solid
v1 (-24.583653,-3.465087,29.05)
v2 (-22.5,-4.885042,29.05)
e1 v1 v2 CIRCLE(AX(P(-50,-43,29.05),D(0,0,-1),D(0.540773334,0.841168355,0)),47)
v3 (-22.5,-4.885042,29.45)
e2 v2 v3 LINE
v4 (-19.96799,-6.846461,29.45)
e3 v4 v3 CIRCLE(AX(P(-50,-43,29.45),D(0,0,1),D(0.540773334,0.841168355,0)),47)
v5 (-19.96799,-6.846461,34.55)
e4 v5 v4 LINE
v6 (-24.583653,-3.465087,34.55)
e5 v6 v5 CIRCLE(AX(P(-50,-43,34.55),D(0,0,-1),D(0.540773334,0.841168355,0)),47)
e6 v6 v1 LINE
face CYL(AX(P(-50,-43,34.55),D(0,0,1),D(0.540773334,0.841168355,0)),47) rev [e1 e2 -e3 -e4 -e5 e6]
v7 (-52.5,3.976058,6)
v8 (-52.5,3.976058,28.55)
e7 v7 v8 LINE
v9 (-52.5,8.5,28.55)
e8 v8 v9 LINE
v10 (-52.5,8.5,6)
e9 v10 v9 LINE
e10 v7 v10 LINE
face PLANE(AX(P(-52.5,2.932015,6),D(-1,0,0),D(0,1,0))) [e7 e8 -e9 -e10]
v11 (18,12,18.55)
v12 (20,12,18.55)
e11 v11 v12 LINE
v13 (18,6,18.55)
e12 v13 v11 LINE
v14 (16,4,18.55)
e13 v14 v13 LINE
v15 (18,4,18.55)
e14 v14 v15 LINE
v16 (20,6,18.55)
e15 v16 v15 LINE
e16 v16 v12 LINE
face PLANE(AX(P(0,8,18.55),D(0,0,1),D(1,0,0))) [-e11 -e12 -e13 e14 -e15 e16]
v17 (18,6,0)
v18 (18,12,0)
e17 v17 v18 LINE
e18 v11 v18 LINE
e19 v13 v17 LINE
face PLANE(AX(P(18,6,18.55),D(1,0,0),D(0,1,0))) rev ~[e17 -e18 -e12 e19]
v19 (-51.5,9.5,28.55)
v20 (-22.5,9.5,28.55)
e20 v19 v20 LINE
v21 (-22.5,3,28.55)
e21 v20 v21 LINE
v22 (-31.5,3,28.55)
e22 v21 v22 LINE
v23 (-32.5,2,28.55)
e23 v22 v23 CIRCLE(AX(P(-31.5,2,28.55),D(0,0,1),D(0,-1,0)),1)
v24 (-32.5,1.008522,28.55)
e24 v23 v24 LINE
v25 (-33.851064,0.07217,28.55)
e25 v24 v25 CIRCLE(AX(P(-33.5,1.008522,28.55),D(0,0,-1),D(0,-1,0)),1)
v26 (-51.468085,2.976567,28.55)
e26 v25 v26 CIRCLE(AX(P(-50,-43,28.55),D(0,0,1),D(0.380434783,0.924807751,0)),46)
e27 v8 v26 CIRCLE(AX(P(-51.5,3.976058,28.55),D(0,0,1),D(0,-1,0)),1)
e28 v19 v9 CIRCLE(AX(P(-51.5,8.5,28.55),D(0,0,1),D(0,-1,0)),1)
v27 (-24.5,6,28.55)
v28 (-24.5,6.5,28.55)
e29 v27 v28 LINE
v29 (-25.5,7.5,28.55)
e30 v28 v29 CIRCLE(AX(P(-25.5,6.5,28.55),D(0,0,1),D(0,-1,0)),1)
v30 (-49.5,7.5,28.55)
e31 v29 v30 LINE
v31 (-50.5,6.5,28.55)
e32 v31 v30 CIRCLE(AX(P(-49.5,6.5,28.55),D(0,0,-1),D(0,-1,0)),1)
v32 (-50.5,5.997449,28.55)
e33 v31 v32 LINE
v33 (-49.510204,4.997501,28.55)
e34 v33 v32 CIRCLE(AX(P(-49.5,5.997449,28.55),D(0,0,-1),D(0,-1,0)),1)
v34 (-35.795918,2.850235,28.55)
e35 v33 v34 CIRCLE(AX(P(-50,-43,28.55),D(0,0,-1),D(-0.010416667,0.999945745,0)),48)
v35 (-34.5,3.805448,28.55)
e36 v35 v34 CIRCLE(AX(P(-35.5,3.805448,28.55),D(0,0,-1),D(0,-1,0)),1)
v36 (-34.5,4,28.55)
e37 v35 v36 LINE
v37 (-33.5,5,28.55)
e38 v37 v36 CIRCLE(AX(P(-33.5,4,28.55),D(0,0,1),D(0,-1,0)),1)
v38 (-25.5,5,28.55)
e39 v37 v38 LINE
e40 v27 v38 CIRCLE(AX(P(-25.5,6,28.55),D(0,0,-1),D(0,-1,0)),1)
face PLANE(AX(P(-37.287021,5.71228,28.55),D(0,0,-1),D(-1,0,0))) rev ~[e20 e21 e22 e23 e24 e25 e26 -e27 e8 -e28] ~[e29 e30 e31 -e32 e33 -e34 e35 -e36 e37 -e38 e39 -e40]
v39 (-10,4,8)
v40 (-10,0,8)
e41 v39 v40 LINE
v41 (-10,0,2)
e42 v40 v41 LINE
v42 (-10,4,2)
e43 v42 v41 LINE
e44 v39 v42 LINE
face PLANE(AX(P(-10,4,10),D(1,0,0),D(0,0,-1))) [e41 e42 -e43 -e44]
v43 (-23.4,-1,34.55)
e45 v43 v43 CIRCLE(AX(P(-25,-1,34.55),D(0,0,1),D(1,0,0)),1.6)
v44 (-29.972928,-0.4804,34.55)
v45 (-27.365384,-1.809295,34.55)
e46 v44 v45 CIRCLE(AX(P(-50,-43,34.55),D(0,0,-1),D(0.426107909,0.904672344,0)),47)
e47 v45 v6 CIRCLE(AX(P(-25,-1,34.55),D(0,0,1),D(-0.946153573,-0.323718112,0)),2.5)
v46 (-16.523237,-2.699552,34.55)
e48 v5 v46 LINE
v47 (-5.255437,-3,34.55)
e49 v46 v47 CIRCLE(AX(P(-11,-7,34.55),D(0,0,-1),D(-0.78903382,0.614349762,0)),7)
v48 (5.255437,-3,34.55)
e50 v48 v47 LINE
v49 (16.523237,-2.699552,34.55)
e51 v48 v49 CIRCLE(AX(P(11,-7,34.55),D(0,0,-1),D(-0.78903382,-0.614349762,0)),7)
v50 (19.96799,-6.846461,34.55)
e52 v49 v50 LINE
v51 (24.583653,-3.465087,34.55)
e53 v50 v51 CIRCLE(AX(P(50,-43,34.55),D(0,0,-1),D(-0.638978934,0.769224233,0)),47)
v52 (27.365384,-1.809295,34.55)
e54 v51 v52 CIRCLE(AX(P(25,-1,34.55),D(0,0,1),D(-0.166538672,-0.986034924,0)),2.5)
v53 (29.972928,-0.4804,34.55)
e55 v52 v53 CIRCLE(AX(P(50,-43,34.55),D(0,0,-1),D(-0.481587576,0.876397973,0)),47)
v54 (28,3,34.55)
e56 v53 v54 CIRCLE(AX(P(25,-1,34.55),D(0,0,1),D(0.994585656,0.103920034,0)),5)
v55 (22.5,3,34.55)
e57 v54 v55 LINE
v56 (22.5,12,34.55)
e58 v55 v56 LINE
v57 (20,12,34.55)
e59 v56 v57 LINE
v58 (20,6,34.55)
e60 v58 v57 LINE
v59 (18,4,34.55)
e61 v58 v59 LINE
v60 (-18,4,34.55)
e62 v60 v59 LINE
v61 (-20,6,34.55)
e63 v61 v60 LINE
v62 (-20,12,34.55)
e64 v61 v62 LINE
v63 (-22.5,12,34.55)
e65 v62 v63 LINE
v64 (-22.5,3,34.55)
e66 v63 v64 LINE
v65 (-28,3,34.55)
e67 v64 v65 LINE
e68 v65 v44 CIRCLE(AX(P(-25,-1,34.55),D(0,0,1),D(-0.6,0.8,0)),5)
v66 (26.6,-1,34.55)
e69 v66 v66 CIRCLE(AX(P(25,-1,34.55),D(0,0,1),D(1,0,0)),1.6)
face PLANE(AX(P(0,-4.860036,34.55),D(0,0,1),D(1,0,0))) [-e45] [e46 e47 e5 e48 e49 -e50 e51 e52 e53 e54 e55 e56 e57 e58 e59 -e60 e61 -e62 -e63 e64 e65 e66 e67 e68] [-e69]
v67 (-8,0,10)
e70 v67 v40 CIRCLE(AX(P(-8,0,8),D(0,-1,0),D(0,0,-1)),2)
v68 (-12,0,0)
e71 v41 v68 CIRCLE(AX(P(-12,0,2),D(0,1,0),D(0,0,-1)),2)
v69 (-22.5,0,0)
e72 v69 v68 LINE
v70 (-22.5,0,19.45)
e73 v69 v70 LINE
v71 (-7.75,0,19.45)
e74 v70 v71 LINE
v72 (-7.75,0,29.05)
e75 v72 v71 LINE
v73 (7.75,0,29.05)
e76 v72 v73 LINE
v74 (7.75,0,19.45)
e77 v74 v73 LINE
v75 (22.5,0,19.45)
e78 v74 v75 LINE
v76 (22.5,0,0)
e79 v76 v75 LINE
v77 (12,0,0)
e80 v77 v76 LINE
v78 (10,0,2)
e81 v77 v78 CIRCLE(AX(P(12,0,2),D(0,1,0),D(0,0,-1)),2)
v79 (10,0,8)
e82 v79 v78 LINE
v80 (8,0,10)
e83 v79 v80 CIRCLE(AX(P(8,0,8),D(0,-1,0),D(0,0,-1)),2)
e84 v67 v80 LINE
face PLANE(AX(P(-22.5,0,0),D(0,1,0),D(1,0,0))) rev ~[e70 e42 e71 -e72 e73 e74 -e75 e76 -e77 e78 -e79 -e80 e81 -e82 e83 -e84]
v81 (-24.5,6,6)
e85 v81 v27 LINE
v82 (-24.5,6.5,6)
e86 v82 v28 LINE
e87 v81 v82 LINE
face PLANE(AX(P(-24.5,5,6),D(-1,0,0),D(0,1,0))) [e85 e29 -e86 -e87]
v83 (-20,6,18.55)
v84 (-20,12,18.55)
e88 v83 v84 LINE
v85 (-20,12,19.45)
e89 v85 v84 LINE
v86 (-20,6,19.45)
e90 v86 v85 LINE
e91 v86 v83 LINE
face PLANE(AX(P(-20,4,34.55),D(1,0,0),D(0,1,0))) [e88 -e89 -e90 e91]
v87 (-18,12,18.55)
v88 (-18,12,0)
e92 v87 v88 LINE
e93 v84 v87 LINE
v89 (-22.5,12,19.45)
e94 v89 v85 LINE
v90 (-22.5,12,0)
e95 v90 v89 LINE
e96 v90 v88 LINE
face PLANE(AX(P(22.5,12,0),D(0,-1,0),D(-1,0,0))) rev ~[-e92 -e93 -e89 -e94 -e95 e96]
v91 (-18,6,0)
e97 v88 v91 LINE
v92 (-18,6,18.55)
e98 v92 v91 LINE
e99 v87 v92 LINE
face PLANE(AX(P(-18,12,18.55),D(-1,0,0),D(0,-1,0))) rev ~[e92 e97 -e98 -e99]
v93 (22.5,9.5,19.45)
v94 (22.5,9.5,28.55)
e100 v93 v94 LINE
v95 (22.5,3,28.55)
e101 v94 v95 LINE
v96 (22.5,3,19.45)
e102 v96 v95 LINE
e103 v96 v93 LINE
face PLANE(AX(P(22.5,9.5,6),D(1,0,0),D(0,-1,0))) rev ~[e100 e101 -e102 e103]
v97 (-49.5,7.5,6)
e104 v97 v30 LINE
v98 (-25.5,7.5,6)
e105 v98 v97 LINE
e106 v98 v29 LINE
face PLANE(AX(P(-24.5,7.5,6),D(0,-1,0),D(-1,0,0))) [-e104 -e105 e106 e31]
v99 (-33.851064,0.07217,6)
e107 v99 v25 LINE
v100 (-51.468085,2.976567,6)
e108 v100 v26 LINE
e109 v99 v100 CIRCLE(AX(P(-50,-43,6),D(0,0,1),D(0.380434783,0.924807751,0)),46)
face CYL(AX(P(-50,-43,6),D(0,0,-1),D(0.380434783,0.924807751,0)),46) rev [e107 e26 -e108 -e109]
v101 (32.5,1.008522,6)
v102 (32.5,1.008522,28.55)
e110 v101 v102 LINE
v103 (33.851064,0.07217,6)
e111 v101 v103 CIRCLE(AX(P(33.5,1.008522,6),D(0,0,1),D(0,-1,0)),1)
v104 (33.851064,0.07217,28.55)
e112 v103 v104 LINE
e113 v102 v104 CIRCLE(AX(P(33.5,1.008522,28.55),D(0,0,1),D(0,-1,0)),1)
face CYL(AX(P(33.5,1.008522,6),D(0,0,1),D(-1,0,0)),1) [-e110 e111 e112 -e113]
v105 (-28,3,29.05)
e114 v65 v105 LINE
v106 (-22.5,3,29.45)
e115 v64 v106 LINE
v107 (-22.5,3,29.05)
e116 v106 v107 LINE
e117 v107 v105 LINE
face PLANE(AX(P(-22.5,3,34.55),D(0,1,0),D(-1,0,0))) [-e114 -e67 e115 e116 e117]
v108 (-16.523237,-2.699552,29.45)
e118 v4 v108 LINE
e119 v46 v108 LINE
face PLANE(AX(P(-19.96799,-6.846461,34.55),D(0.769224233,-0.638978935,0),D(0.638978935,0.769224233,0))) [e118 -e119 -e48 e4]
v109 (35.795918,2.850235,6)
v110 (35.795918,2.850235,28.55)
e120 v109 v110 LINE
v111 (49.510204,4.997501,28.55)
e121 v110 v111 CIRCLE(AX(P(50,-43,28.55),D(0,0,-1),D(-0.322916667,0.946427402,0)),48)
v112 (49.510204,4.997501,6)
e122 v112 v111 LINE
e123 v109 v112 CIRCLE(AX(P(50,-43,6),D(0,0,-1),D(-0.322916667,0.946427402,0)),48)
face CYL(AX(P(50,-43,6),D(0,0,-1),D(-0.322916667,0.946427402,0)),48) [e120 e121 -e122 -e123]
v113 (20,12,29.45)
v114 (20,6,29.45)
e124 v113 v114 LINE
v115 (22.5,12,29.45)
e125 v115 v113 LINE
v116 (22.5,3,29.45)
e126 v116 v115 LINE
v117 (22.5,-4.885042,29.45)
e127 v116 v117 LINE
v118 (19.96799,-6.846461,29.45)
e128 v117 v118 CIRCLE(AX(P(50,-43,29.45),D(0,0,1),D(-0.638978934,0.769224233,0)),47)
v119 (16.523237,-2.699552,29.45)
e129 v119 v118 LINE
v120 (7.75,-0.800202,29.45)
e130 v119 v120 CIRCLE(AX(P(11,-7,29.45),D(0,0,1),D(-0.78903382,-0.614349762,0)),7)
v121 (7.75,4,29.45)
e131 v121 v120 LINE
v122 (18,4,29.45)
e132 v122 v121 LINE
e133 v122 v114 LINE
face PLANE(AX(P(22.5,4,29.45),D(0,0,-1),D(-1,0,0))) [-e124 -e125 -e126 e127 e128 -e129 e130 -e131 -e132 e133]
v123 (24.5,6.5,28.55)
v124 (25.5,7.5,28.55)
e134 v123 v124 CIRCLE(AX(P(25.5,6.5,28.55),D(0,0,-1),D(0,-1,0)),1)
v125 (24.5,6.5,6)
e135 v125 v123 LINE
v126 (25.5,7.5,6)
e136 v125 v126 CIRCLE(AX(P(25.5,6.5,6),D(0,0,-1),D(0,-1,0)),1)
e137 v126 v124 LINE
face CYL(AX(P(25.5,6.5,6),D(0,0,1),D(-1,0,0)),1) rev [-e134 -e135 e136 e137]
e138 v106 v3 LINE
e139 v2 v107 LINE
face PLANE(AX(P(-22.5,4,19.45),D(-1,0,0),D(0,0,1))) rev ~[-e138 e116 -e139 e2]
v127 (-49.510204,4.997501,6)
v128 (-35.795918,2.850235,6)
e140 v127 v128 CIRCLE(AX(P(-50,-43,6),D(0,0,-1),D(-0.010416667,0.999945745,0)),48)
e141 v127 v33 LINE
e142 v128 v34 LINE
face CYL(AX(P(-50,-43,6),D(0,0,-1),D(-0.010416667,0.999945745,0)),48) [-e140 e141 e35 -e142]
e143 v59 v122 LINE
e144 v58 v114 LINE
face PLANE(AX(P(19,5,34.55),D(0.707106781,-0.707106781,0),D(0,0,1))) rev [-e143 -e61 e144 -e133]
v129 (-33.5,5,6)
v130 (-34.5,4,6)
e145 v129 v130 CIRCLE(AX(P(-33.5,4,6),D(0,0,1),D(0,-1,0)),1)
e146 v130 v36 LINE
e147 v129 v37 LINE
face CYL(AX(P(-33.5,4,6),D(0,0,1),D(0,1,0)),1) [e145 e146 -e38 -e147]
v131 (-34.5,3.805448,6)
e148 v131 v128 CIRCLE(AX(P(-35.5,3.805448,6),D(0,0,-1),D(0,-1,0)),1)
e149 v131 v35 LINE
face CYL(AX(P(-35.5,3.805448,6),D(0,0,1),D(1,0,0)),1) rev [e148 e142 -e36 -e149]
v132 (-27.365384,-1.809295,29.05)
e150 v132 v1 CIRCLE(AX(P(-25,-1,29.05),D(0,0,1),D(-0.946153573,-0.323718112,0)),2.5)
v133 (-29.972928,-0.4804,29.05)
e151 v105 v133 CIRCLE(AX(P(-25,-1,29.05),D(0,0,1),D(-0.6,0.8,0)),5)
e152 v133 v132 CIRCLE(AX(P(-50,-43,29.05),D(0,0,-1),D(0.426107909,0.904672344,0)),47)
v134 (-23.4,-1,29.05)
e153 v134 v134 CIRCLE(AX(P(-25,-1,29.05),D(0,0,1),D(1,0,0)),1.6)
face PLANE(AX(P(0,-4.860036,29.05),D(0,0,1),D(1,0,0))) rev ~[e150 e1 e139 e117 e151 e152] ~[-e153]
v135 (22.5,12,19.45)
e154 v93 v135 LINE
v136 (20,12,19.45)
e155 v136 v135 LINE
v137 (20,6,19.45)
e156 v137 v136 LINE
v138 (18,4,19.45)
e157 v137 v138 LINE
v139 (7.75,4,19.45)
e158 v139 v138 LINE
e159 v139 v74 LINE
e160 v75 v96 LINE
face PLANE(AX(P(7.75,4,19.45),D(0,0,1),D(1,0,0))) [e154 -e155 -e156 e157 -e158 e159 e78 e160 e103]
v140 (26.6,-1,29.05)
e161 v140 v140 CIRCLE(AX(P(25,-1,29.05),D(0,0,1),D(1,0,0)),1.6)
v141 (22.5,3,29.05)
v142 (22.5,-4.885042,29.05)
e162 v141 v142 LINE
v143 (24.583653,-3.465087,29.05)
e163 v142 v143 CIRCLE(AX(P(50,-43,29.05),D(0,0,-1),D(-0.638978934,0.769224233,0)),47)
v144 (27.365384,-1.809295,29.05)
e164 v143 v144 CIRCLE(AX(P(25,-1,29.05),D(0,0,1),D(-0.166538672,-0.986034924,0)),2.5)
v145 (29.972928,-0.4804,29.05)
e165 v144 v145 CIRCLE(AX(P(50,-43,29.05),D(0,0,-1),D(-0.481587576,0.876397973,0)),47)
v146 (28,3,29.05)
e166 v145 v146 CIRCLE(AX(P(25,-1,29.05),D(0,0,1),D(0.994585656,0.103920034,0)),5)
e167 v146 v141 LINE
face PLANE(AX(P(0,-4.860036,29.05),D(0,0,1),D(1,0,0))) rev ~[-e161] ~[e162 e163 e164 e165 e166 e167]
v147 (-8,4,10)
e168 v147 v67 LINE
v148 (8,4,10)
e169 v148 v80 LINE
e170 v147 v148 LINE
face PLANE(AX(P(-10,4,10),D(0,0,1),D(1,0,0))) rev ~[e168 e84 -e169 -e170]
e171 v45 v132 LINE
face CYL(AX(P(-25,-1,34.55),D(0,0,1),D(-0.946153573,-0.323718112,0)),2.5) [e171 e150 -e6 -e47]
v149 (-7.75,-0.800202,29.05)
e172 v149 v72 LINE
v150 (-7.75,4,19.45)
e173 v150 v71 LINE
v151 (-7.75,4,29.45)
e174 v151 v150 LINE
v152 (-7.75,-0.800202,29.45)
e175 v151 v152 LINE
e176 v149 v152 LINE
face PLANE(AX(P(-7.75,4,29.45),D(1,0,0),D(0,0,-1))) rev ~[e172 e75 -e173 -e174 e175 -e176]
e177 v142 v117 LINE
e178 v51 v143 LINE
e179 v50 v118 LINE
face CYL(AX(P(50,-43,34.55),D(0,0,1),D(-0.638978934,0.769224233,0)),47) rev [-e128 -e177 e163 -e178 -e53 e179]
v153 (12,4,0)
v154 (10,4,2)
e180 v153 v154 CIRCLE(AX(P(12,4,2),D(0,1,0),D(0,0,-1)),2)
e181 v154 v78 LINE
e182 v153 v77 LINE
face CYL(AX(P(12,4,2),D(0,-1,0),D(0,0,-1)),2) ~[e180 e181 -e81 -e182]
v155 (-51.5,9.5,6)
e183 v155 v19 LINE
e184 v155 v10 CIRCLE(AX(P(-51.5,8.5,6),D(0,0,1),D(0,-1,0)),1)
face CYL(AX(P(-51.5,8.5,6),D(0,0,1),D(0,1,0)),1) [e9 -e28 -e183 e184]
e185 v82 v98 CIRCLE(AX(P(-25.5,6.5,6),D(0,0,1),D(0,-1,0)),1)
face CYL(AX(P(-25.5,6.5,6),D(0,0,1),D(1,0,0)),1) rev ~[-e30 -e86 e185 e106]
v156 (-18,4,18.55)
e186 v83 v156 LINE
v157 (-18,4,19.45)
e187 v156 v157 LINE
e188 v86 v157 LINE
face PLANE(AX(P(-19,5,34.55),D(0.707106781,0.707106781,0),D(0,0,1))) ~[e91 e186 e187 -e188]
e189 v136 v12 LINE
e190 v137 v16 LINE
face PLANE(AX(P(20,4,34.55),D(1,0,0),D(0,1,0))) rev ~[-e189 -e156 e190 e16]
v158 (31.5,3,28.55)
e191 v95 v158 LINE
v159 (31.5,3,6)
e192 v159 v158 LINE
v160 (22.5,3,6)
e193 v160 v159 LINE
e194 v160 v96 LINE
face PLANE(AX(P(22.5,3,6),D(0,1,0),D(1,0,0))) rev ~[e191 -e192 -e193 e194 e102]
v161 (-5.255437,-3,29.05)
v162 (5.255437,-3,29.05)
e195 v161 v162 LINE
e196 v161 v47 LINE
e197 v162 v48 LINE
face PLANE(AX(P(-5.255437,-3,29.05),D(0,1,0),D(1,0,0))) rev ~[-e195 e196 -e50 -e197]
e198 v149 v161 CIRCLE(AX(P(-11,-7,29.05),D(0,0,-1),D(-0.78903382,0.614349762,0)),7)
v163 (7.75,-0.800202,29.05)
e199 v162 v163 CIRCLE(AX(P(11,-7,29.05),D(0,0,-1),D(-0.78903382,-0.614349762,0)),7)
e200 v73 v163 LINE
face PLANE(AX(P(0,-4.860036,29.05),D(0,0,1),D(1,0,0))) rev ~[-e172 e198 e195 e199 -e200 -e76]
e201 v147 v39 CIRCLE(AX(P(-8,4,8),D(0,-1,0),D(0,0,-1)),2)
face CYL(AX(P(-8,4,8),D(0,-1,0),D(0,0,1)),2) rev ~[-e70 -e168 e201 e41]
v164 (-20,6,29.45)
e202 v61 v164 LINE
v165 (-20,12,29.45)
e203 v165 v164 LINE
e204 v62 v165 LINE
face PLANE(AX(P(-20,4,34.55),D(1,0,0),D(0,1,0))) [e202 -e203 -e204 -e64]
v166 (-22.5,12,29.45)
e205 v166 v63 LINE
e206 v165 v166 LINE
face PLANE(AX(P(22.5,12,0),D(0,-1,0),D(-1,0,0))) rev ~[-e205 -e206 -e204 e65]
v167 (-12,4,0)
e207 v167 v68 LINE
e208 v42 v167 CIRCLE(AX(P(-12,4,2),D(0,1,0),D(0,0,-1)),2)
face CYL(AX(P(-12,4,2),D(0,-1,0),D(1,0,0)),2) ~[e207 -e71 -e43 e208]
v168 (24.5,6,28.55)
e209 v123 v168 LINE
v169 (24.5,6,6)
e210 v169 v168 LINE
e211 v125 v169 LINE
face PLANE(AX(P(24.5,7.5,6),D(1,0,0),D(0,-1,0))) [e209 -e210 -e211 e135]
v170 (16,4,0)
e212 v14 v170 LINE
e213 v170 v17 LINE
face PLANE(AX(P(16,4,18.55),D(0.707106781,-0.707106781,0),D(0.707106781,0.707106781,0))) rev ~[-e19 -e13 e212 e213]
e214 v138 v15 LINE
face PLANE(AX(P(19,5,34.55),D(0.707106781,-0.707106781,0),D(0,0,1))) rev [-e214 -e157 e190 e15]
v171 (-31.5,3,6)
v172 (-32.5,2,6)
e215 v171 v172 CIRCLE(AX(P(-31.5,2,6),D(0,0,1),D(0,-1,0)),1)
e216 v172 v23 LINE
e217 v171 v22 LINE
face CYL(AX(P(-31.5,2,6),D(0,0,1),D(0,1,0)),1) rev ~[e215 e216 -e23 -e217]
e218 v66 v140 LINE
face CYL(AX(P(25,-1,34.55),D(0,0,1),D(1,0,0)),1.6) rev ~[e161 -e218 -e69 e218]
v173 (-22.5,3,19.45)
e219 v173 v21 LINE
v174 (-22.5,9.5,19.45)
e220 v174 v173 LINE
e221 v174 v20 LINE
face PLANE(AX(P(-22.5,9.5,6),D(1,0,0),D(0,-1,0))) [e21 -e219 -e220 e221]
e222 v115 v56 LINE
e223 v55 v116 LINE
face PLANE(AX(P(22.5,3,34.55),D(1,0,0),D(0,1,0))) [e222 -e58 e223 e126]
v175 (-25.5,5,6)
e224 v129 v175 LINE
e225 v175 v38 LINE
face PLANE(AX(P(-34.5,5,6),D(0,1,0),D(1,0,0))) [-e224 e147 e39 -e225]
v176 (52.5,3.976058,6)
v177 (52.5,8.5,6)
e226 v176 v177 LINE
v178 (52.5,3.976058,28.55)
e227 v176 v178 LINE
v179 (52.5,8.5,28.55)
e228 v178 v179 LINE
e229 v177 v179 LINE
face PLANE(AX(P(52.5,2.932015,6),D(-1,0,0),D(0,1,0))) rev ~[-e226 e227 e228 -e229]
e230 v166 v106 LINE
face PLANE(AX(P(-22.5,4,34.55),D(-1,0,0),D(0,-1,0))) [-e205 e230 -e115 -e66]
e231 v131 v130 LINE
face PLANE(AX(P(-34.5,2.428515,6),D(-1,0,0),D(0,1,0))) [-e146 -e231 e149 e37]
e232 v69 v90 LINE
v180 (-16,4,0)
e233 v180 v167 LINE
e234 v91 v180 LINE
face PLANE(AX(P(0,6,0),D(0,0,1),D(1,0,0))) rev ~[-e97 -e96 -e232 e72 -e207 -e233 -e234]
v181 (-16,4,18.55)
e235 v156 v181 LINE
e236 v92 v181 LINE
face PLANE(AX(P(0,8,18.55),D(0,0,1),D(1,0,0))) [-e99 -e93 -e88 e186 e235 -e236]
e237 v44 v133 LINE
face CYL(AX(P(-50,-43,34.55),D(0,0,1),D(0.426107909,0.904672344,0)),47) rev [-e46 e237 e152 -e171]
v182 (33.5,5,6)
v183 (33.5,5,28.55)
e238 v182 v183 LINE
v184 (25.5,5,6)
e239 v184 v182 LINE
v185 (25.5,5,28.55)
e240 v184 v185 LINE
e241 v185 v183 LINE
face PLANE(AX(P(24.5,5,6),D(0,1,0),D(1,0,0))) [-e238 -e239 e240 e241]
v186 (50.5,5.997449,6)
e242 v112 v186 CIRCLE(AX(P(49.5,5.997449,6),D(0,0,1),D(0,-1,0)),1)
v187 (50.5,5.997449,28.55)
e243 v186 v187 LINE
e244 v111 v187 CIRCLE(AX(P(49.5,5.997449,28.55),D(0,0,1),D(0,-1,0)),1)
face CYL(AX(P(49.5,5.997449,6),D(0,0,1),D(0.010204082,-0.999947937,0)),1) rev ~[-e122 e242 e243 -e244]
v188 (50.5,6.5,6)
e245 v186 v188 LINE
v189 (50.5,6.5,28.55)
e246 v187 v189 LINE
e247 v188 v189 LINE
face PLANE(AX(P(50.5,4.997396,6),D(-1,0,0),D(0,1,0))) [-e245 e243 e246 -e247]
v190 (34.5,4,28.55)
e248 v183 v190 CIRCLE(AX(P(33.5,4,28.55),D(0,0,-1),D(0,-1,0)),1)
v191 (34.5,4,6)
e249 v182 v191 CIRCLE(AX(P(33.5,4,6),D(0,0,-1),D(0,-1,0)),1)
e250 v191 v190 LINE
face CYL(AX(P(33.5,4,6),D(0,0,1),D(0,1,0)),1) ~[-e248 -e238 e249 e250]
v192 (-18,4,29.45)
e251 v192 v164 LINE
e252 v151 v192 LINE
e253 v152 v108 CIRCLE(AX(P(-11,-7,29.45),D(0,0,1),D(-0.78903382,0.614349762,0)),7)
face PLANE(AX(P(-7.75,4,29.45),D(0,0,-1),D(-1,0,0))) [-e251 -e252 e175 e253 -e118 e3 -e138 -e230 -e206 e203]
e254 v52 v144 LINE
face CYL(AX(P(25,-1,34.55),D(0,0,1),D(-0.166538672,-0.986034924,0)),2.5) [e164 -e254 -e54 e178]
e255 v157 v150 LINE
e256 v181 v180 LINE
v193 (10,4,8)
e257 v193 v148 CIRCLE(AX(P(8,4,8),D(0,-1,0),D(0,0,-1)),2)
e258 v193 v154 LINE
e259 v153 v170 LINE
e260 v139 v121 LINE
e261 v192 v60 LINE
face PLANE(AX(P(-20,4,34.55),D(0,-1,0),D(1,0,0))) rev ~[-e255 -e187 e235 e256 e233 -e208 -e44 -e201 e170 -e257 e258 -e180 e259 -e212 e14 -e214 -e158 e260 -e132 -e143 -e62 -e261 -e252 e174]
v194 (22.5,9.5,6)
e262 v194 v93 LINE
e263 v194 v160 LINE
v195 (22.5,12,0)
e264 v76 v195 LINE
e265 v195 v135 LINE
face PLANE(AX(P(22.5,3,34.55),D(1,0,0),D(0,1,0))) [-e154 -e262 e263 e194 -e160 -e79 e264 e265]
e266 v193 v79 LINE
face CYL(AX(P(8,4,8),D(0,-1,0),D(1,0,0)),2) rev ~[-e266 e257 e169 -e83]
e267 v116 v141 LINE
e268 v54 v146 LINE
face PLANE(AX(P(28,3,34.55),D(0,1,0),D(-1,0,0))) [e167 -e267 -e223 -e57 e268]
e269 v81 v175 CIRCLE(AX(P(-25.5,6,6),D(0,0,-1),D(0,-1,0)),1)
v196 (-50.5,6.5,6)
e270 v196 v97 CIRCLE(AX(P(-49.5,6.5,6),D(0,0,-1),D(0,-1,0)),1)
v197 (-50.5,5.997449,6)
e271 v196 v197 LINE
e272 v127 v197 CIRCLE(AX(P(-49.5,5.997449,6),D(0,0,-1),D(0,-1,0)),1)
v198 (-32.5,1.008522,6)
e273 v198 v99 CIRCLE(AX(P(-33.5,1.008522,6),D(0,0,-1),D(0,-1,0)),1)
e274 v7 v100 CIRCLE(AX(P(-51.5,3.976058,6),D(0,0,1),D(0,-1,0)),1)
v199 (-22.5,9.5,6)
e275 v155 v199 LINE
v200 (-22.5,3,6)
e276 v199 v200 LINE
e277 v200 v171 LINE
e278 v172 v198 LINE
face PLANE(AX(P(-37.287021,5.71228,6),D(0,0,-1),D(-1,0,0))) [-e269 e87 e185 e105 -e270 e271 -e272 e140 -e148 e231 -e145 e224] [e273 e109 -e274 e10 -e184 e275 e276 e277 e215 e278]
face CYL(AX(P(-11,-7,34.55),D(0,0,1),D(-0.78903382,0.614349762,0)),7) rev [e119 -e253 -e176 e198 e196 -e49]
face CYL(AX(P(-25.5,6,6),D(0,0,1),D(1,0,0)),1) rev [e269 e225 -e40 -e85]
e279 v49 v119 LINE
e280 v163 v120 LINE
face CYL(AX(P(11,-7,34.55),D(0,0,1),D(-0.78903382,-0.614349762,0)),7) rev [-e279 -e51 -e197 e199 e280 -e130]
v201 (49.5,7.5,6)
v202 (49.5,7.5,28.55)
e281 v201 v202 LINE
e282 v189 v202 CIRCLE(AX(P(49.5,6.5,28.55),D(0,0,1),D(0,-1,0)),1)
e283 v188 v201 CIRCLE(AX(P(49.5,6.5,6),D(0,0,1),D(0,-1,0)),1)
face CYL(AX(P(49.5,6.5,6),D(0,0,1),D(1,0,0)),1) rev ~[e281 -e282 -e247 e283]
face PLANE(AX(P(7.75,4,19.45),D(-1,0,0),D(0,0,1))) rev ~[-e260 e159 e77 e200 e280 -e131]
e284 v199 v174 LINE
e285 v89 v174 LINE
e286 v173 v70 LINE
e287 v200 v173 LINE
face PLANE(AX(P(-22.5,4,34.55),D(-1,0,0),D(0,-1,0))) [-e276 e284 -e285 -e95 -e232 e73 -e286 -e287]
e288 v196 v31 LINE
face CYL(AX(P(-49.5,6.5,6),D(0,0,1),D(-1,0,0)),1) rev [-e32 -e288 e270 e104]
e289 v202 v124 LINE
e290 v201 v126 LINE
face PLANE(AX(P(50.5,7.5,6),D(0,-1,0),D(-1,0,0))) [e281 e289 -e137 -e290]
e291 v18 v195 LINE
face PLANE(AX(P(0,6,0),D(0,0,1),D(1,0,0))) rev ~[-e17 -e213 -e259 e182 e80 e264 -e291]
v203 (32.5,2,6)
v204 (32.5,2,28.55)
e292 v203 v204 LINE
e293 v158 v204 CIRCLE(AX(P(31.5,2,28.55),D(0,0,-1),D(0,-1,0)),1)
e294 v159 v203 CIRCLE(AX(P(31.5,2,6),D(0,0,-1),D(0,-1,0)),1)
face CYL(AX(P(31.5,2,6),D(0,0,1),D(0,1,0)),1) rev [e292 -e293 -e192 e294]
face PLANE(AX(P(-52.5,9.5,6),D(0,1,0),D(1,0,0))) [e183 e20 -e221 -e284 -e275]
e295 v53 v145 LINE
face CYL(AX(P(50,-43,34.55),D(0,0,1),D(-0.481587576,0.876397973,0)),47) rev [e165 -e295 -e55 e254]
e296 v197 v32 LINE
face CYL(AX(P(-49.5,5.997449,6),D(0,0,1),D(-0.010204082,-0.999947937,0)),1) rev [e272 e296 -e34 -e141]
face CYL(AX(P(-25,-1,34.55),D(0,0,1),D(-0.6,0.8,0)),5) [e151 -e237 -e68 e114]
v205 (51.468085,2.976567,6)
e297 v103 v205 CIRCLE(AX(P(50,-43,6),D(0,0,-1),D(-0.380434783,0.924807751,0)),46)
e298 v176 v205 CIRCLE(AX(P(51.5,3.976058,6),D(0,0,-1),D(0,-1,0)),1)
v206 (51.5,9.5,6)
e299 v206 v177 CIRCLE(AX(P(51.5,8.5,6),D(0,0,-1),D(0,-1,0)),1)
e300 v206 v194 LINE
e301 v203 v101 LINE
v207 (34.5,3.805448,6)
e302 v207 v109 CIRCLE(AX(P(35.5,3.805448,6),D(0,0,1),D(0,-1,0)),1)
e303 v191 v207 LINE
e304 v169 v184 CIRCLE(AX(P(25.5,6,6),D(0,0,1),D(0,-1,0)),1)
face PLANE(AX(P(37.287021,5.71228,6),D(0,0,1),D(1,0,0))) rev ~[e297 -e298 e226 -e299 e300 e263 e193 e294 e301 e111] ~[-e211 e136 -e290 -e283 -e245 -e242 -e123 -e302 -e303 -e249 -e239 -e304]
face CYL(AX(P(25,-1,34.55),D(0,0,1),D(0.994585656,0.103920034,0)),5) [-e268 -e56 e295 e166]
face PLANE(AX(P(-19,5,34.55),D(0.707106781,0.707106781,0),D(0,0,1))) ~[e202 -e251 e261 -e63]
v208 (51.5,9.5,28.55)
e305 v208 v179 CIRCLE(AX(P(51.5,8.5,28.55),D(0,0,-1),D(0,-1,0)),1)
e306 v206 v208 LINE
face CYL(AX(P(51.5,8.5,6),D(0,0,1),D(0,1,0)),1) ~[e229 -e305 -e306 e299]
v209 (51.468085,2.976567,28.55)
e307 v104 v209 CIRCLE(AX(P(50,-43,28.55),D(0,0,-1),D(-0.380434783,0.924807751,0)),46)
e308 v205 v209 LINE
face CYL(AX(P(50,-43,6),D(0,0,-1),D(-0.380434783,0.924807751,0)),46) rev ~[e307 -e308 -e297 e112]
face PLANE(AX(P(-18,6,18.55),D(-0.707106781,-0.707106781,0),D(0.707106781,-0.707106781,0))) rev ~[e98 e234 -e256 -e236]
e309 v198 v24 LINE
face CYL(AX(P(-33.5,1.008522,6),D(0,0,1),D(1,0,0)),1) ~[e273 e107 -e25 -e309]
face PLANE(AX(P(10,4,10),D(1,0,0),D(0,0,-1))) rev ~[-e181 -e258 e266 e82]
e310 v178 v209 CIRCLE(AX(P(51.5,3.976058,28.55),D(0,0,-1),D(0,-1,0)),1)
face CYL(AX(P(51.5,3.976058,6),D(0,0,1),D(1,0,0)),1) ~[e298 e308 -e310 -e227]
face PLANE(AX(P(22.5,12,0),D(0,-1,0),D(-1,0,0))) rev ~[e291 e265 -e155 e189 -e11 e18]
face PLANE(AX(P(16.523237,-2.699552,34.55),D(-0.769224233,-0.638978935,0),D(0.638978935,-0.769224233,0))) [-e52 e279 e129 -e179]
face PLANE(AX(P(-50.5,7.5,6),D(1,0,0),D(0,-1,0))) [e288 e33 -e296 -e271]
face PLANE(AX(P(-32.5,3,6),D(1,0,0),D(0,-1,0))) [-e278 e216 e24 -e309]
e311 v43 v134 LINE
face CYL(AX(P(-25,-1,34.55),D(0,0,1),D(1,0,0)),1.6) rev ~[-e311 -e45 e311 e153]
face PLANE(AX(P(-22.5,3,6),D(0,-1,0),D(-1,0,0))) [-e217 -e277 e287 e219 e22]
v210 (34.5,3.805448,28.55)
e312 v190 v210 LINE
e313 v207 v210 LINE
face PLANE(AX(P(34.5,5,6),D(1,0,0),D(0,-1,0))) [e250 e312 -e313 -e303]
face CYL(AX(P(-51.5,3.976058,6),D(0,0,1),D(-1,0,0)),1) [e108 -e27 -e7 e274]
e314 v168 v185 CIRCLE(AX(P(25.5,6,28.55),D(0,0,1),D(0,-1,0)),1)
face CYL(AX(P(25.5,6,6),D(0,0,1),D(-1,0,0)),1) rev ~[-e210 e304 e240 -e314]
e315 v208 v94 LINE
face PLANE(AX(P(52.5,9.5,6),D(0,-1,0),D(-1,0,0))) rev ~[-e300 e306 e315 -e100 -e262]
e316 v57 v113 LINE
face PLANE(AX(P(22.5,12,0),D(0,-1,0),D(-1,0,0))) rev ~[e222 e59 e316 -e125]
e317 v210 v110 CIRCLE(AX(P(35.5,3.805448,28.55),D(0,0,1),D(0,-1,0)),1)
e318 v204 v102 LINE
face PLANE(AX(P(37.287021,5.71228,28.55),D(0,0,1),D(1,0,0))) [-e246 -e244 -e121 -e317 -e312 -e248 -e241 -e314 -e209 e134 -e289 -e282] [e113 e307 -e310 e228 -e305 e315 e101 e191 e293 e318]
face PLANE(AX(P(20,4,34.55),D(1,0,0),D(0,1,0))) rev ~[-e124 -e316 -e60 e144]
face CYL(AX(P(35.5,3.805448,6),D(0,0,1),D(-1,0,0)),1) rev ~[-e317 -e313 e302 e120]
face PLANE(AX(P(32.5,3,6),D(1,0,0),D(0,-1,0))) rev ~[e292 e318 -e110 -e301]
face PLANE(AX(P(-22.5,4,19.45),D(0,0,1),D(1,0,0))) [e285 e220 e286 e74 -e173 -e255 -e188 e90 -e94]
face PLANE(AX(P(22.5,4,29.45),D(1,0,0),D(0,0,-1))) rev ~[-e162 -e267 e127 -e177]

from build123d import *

# Parameters (mm, degrees)
EXTRUDE_1_DEPTH          = 34.55
SKETCH_2_W               = 40
SKETCH_2_H               = 8
CUT_EXTRUDE_1_DEPTH      = 16
CHAMFER_1_SIZE           = 2
SKETCH_6_R               = 1.6
EXTRUDE_2_DEPTH          = 6.9
SKETCH_8_R               = 1.6
EXTRUDE_3_DEPTH          = 5.5
CUT_EXTRUDE_6_DEPTH      = 10
CUT_EXTRUDE_7_DEPTH      = 25
CUT_EXTRUDE_8_DEPTH      = 25
CUT_EXTRUDE_8_DEPTH_BACK = 25
SKETCH_14_W              = 20
SKETCH_14_H              = 10
CUT_EXTRUDE_9_DEPTH      = 25
FILLET_1_R               = 2
EXTRUDE_START            = -6
EXTRUDE_4_DEPTH          = 22.55
FILLET_2_R               = 1


with BuildPart() as part:
    # 草图1 → 凸台-拉伸1 (new body)
    with BuildSketch(Plane.XY):
        Polygon((0, 0), (22.5, 0), (22.5, 12), (-22.5, 12), (-22.5, 0), align=None)
    extrude(amount=EXTRUDE_1_DEPTH)

    # 草图2 → 切除-拉伸1 (cut)
    with BuildSketch(Plane.XY.offset(34.55)):
        with Locations((0, 8)):
            Rectangle(SKETCH_2_W, SKETCH_2_H)
    extrude(amount=-CUT_EXTRUDE_1_DEPTH, mode=Mode.SUBTRACT)

    # 倒角1
    chamfer_1_edges = [part.edges().sort_by_distance(p)[0] for p in [
        (20, 4, 26.55),
        (-20, 4, 26.55),
    ]]
    chamfer(chamfer_1_edges, length=CHAMFER_1_SIZE)

    # 草图6 → 凸台-拉伸2 (add)
    with BuildSketch(Plane(origin=(0, 12, 0), x_dir=(1, 0, 0), z_dir=(0, 1, 0))):
        with BuildLine():
            Line((22.5, 0), (22.5, -13.5))
            Line((22.5, -13.5), (17, -13.5))
            ThreePointArc((17, -13.5), (15.232233047, -12.767766953), (14.5, -11))
            Line((14.5, -11), (14.5, -5))
            Line((14.5, -5), (14.5, 0))
            Line((14.5, 0), (22.5, 0))
        make_face()
        with Locations((17, -5)):
            Circle(SKETCH_6_R, mode=Mode.SUBTRACT)
        with Locations((17, -11)):
            Circle(SKETCH_6_R, mode=Mode.SUBTRACT)
        with BuildLine():
            Line((-14.5, 0), (-22.5, 0))
            Line((-22.5, 0), (-22.5, -13.5))
            Line((-22.5, -13.5), (-17, -13.5))
            ThreePointArc((-17, -13.5), (-15.232233047, -12.767766953), (-14.5, -11))
            Line((-14.5, -11), (-14.5, -5))
            Line((-14.5, -5), (-14.5, 0))
        make_face()
        with Locations((-17, -11)):
            Circle(SKETCH_6_R, mode=Mode.SUBTRACT)
        with Locations((-17, -5)):
            Circle(SKETCH_6_R, mode=Mode.SUBTRACT)
    extrude(amount=-EXTRUDE_2_DEPTH)

    # 草图8 → 凸台-拉伸3 (add)
    with BuildSketch(Plane.XY.offset(34.55)):
        with BuildLine():
            Line((1.843049286, -25.367101461), (9.230566594, -19.615105309))
            ThreePointArc((9.230566594, -19.615105309), (9.814108465, -18.625953935), (10.421644381, -17.651355727))
            Line((10.421644381, -17.651355727), (5.476763257, -11.300448334))
            ThreePointArc((5.476763257, -11.300448334), (6.699551666, -1.476763257), (16.523236743, -2.699551666))
            Line((16.523236743, -2.699551666), (19.967990067, -6.846461039))
            ThreePointArc((19.967990067, -6.846461039), (22.224318463, -5.085470923), (24.58365332, -3.465087309))
            ThreePointArc((24.58365332, -3.465087309), (26.278709649, -3.148232211), (27.365383934, -1.809295278))
            ThreePointArc((27.365383934, -1.809295278), (28.658809968, -1.124546474), (29.972928279, -0.480399834))
            ThreePointArc((29.972928279, -0.480399834), (29.349734714, 1.46572665), (28, 3))
            Line((28, 3), (22.5, 3))
            Line((22.5, 3), (22.5, 4))
            Line((22.5, 4), (-22.5, 4))
            Line((-22.5, 4), (-22.5, 3))
            Line((-22.5, 3), (-28, 3))
            ThreePointArc((-28, 3), (-29.349734714, 1.46572665), (-29.972928279, -0.480399834))
            ThreePointArc((-29.972928279, -0.480399834), (-28.658809968, -1.124546474), (-27.365383934, -1.809295278))
            ThreePointArc((-27.365383934, -1.809295278), (-26.278709649, -3.148232211), (-24.58365332, -3.465087309))
            ThreePointArc((-24.58365332, -3.465087309), (-22.224318463, -5.085470923), (-19.967990067, -6.846461039))
            Line((-19.967990067, -6.846461039), (-16.523236743, -2.699551666))
            ThreePointArc((-16.523236743, -2.699551666), (-6.699551666, -1.476763257), (-5.476763257, -11.300448334))
            Line((-5.476763257, -11.300448334), (-10.421644381, -17.651355727))
            ThreePointArc((-10.421644381, -17.651355727), (-9.814108465, -18.625953935), (-9.230566594, -19.615105309))
            Line((-9.230566594, -19.615105309), (-1.843049286, -25.367101461))
            ThreePointArc((-1.843049286, -25.367101461), (0, -26), (1.843049286, -25.367101461))
        make_face()
        with Locations((25, -1)):
            Circle(SKETCH_8_R, mode=Mode.SUBTRACT)
        with Locations((0, -23)):
            Circle(SKETCH_8_R, mode=Mode.SUBTRACT)
        with Locations((-25, -1)):
            Circle(SKETCH_8_R, mode=Mode.SUBTRACT)
    extrude(amount=-EXTRUDE_3_DEPTH)

    # 草图11 → 切除-拉伸6 (cut)
    with BuildSketch(Plane(origin=(0, 0, 29.05), x_dir=(-1, 0, 0), z_dir=(0, 0, -1))):
        Polygon((-4, -7), (-10.421644381, -17.651355727), (-10.421644381, -27.0891889), (10.421644381, -27.0891889), (10.421644381, -17.651355727), (4, -7), (5.255437353, -3), (0, -3), (-5.255437353, -3), align=None)
    extrude(amount=-CUT_EXTRUDE_6_DEPTH, mode=Mode.SUBTRACT)

    # 草图12 → 切除-拉伸7 (cut)
    with BuildSketch(Plane.XY.offset(18.55)):
        Polygon((-18, 6), (-16, 4), (16, 4), (18, 6), (18, 12), (-18, 12), align=None)
    extrude(amount=-CUT_EXTRUDE_7_DEPTH, mode=Mode.SUBTRACT)

    # 草图13 → 切除-拉伸8 (cut, two sides)
    with BuildSketch(Plane(origin=(0, 4, 0), x_dir=(1, 0, 0), z_dir=(0, 1, 0))) as cut_extrude_8_sk:
        Polygon((-7.75, -24.45), (-7.75, -28.45), (-7.75, -29.45), (-22.5, -29.45), (-22.5, -28.45), (-22.5, -24.45), (-22.5, -21.45), (-22.5, -19.45), (-7.75, -19.45), align=None)
        Polygon((22.5, -19.45), (22.5, -21.45), (22.5, -24.45), (22.5, -28.45), (22.5, -29.45), (7.75, -29.45), (7.75, -28.45), (7.75, -24.45), (7.75, -19.45), align=None)
    extrude(amount=CUT_EXTRUDE_8_DEPTH, mode=Mode.SUBTRACT)
    extrude(cut_extrude_8_sk.sketch, amount=-CUT_EXTRUDE_8_DEPTH_BACK, mode=Mode.SUBTRACT)

    # 草图14 → 切除-拉伸9 (cut)
    with BuildSketch(Plane(origin=(0, 4, 0), x_dir=(1, 0, 0), z_dir=(0, 1, 0))):
        with Locations((0, -5)):
            Rectangle(SKETCH_14_W, SKETCH_14_H)
    extrude(amount=-CUT_EXTRUDE_9_DEPTH, mode=Mode.SUBTRACT)

    # 圆角1
    fillet_1_edges = [part.edges().sort_by_distance(p)[0] for p in [
        (10, 2, 0),
        (-10, 2, 0),
        (10, 2, 10),
        (-10, 2, 10),
    ]]
    fillet(fillet_1_edges, radius=FILLET_1_R)

    # 草图15 → 凸台-拉伸4 (add)
    with BuildSketch(Plane(origin=(0, 0, 0), x_dir=(-1, 0, 0), z_dir=(0, 0, -1)).offset(EXTRUDE_START)):
        with BuildLine():
            Line((-22.5, 9.5), (-22.5, 3))
            Line((-22.5, 3), (-32.5, 3))
            Line((-32.5, 3), (-32.5, -0.458843457))
            ThreePointArc((-32.5, -0.458843457), (-42.310755549, 2.352789548), (-52.5, 2.932014979))
            Line((-52.5, 2.932014979), (-52.5, 9.5))
            Line((-52.5, 9.5), (-22.5, 9.5))
        make_face()
        with BuildLine():
            Line((-24.5, 7.5), (-24.5, 5))
            Line((-24.5, 5), (-34.5, 5))
            Line((-34.5, 5), (-34.5, 2.428515274))
            ThreePointArc((-34.5, 2.428515274), (-42.390809061, 4.393039713), (-50.5, 4.997395763))
            Line((-50.5, 4.997395763), (-50.5, 7.5))
            Line((-50.5, 7.5), (-24.5, 7.5))
        make_face(mode=Mode.SUBTRACT)
        with BuildLine():
            Line((32.5, 3), (32.5, -0.458843457))
            ThreePointArc((32.5, -0.458843457), (42.310755549, 2.352789548), (52.5, 2.932014979))
            Line((52.5, 2.932014979), (52.5, 9.5))
            Line((52.5, 9.5), (22.5, 9.5))
            Line((22.5, 9.5), (22.5, 3))
            Line((22.5, 3), (32.5, 3))
        make_face()
        with BuildLine():
            Line((24.5, 7.5), (50.5, 7.5))
            Line((50.5, 7.5), (50.5, 4.997395763))
            ThreePointArc((50.5, 4.997395763), (42.390809061, 4.393039713), (34.5, 2.428515274))
            Line((34.5, 2.428515274), (34.5, 5))
            Line((34.5, 5), (24.5, 5))
            Line((24.5, 5), (24.5, 7.5))
        make_face(mode=Mode.SUBTRACT)
    extrude(amount=-EXTRUDE_4_DEPTH)

    # 圆角2
    fillet_2_edges = [part.edges().sort_by_distance(p)[0] for p in [
        (52.5, 9.5, 17.275),
        (32.5, 3, 17.275),
        (32.5, -0.458843457, 17.275),
        (52.5, 2.932014979, 17.275),
        (24.5, 7.5, 17.275),
        (24.5, 5, 17.275),
        (34.5, 5, 17.275),
        (34.5, 2.428515274, 17.275),
        (50.5, 4.997395763, 17.275),
        (50.5, 7.5, 17.275),
        (-52.5, 9.5, 17.275),
        (-52.5, 2.932014979, 17.275),
        (-32.5, -0.458843457, 17.275),
        (-32.5, 3, 17.275),
        (-24.5, 7.5, 17.275),
        (-50.5, 7.5, 17.275),
        (-50.5, 4.997395763, 17.275),
        (-34.5, 2.428515274, 17.275),
        (-34.5, 5, 17.275),
        (-24.5, 5, 17.275),
    ]]
    fillet(fillet_2_edges, radius=FILLET_2_R)


solid = part.part
